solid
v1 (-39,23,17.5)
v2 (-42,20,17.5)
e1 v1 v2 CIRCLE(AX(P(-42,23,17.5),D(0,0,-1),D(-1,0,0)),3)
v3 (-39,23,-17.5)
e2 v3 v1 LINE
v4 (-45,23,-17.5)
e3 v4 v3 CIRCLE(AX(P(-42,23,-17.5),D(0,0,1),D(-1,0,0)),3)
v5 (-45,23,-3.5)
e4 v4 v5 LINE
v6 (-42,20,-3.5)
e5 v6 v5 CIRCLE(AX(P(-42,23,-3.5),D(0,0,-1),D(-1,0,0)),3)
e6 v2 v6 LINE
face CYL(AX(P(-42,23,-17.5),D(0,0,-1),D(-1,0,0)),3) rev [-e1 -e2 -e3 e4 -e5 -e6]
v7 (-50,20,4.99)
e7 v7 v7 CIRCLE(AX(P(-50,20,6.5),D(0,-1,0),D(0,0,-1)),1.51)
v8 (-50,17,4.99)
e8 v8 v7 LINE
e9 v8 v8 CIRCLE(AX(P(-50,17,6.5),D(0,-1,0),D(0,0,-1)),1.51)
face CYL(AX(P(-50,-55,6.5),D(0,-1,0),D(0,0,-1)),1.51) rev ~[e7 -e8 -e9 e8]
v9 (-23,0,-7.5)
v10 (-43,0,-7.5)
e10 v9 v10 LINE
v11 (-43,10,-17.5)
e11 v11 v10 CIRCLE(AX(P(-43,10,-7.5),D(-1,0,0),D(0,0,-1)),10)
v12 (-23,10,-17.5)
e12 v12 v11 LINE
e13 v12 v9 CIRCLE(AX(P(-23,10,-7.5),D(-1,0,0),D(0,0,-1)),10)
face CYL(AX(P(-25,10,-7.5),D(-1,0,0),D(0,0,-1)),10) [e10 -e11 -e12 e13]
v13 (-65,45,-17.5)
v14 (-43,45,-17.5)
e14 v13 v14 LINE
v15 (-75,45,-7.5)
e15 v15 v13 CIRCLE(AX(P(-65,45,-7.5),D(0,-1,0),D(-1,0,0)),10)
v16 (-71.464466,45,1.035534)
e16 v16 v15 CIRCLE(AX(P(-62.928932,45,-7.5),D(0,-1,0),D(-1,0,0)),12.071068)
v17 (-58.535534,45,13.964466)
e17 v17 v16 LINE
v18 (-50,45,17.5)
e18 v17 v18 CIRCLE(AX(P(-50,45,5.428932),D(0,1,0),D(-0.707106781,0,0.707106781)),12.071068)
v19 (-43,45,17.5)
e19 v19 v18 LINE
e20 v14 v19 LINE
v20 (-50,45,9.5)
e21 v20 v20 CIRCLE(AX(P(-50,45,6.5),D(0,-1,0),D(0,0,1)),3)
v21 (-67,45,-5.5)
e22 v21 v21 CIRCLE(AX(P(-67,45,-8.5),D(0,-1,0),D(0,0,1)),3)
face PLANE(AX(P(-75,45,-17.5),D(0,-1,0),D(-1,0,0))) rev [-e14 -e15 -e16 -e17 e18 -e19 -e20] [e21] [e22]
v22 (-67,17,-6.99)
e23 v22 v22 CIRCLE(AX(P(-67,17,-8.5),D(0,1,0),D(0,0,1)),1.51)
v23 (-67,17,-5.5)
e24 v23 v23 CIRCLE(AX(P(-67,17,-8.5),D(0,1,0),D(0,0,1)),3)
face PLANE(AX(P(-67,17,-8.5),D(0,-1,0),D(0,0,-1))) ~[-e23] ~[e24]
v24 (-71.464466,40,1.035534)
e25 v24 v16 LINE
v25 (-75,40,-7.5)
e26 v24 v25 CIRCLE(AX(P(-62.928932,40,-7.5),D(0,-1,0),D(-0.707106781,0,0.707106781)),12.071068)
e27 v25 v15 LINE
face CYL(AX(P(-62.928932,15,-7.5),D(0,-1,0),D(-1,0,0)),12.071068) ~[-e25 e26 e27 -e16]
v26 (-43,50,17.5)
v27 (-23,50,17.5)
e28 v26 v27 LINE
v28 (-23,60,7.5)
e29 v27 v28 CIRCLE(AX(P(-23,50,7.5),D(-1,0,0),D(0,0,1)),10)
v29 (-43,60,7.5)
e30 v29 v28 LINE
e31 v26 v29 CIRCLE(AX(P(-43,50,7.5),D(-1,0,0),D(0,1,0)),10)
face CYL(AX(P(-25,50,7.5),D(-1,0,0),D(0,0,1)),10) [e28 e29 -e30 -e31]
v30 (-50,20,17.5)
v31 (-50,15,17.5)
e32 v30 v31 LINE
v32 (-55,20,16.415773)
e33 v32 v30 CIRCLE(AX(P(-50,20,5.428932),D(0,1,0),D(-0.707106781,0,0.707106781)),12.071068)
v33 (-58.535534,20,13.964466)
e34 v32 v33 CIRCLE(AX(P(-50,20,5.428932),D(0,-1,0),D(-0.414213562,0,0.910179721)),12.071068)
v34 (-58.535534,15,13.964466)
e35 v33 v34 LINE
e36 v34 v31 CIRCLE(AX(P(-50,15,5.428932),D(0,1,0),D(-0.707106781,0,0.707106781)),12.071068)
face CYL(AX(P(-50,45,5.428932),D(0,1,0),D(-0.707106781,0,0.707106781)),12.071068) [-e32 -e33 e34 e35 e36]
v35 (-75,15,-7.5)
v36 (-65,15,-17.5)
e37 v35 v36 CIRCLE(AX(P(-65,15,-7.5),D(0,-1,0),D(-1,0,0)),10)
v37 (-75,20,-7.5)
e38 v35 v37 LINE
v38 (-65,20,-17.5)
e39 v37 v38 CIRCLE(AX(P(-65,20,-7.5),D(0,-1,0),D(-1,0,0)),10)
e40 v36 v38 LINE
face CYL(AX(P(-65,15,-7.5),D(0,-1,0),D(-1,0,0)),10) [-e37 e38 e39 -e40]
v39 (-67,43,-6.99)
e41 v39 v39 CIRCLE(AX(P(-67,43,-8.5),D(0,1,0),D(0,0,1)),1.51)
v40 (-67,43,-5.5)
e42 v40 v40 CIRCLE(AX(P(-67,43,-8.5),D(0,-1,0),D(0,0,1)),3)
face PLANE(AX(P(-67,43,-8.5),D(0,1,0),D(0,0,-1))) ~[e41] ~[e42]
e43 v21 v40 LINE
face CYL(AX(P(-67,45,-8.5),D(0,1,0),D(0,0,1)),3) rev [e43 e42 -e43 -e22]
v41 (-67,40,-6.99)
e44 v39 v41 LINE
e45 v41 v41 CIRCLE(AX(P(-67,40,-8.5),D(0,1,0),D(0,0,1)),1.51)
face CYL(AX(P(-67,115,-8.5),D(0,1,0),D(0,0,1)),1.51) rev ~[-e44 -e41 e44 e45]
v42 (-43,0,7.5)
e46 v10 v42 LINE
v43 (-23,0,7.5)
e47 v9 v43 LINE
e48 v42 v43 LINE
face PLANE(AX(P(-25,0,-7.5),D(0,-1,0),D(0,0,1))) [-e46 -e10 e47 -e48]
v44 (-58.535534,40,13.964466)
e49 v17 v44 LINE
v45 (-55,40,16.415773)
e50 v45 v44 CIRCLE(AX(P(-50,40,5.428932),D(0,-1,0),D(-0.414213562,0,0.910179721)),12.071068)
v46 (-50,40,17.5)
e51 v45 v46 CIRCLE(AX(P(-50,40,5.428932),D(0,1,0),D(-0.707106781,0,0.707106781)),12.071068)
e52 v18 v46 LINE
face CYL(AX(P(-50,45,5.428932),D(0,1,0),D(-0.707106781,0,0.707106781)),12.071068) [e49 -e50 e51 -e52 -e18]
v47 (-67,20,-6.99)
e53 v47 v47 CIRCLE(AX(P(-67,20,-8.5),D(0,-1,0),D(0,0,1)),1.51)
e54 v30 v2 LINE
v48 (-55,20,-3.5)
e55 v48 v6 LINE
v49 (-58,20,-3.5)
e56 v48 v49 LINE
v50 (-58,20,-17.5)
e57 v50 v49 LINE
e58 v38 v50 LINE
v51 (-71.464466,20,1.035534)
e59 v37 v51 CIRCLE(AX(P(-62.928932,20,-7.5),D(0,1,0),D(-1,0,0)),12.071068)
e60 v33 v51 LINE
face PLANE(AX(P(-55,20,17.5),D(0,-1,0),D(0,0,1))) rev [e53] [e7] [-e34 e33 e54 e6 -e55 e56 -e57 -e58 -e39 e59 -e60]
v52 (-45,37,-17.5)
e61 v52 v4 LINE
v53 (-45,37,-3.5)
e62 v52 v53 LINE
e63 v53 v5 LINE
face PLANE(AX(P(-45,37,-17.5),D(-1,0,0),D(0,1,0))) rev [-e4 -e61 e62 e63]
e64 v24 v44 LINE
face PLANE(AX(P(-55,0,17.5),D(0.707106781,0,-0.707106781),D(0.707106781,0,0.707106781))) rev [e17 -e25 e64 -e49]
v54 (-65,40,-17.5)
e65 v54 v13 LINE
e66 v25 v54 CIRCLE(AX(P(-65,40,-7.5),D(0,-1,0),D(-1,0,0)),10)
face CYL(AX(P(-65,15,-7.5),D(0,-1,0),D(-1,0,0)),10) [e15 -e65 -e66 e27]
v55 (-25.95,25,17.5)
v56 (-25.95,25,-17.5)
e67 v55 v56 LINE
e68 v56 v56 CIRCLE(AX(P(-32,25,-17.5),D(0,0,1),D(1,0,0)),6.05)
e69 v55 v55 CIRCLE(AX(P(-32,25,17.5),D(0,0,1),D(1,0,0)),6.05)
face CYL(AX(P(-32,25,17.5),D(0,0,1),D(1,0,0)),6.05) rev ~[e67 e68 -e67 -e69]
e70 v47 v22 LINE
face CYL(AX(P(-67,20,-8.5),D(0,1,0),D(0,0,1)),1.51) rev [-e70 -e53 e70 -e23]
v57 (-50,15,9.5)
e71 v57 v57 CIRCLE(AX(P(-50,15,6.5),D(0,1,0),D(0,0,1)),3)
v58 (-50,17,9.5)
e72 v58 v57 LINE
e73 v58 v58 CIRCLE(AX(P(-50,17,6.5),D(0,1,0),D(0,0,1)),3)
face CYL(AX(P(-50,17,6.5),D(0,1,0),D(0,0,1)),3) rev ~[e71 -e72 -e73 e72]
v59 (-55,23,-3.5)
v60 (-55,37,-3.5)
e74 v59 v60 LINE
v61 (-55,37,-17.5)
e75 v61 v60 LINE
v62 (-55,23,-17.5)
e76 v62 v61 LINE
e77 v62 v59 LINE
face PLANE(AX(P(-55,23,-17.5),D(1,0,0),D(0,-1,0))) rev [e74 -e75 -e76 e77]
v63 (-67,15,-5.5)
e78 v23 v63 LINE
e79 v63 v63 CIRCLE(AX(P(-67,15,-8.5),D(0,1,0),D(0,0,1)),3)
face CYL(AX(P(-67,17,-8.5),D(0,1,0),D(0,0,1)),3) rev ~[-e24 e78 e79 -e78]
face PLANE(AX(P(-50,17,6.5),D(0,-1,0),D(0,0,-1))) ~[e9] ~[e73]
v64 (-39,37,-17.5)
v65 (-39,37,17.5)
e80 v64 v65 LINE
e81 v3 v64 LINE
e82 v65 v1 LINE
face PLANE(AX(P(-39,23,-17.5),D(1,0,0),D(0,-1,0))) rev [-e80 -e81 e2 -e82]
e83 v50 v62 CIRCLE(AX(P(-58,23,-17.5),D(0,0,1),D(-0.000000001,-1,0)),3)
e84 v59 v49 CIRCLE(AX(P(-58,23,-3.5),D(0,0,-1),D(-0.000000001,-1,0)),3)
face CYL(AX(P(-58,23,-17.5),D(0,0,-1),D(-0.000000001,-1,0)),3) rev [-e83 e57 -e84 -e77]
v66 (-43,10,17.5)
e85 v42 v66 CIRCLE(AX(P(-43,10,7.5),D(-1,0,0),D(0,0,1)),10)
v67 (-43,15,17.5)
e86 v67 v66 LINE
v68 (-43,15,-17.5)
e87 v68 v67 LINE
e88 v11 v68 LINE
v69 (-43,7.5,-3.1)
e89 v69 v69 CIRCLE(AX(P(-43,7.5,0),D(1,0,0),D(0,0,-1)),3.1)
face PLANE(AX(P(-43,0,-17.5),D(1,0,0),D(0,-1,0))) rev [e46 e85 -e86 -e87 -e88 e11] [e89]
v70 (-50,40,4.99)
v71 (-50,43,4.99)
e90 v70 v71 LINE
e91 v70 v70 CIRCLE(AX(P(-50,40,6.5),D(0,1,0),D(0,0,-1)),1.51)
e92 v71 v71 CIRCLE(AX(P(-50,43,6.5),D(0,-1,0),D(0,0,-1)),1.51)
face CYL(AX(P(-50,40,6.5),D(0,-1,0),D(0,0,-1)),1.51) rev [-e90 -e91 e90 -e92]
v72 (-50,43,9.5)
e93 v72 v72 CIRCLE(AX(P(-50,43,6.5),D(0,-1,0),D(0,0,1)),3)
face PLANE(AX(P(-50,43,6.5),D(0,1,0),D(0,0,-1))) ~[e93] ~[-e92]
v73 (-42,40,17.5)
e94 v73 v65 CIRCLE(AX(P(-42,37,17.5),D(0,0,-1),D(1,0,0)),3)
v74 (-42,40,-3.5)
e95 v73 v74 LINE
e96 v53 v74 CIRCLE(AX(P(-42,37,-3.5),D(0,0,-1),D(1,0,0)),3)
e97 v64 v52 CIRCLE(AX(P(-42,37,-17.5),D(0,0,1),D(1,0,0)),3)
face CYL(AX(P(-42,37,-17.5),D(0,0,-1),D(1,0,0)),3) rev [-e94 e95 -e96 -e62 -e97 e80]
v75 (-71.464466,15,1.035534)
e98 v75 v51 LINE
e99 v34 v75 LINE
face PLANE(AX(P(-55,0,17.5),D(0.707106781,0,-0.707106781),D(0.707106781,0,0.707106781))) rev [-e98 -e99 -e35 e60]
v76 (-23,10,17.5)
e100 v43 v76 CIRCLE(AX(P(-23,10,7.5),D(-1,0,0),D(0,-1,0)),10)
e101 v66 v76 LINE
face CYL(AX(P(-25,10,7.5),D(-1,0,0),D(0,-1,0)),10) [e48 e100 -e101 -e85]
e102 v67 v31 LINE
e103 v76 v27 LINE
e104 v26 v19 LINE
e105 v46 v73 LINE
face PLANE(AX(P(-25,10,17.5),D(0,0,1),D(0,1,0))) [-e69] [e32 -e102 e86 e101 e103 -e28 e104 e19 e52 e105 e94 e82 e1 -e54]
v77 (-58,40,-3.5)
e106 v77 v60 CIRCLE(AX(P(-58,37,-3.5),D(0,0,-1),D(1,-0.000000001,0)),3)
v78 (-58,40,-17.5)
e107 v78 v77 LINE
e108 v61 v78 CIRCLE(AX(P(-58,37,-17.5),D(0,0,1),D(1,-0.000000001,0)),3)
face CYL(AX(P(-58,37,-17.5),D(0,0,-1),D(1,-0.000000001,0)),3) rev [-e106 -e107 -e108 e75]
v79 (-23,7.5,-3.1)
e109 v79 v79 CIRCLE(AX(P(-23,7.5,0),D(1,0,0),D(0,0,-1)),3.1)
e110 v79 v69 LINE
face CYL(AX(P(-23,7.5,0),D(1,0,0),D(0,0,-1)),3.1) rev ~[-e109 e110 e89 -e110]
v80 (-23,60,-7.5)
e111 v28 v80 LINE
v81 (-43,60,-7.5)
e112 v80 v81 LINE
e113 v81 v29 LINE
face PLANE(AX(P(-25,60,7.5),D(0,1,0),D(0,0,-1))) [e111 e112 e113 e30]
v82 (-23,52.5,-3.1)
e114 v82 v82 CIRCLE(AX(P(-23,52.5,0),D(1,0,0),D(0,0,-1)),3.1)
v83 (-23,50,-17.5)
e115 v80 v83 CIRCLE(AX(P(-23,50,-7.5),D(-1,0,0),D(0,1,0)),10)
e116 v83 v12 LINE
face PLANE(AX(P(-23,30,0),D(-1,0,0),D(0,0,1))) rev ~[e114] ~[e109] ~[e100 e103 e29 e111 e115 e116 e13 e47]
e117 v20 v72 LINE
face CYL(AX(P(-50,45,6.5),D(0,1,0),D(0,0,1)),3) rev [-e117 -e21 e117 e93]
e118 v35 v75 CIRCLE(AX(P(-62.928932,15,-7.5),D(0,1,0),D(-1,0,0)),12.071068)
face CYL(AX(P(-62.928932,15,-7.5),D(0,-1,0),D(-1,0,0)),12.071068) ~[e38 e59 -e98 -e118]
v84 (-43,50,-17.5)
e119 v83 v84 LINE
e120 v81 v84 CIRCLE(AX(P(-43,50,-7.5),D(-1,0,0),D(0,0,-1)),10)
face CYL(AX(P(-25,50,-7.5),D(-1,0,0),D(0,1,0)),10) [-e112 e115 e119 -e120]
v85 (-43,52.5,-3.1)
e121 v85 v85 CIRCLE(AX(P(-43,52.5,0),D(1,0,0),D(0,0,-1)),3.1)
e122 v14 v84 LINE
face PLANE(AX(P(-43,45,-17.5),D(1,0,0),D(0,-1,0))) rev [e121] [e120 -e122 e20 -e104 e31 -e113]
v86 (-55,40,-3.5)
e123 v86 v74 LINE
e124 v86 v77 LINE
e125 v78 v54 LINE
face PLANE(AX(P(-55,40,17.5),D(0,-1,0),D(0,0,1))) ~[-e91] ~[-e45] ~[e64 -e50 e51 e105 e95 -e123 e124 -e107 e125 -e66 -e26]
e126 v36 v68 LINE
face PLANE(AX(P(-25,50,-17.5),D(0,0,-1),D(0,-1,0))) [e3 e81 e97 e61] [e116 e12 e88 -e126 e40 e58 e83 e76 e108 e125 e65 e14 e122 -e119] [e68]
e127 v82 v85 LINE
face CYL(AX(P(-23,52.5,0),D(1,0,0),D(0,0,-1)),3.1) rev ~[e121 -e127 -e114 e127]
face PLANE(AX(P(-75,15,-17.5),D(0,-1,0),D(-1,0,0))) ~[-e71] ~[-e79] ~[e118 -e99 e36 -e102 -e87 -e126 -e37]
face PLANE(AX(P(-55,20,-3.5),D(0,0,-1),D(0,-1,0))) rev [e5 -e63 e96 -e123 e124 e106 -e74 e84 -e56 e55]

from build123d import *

# Parameters (mm, degrees)
EXTRUDE_1_DEPTH      = 60
SKETCH_2_W           = 32
SKETCH_2_H           = 15
CUT_EXTRUDE_1_DEPTH  = 60
SKETCH_3_R           = 3
CUT_EXTRUDE_2_DEPTH  = 30
CUT_EXTRUDE_3_DEPTH  = 30
CUT_EXTRUDE_4_DEPTH  = 50
SKETCH_6_R           = 5
CUT_EXTRUDE_5_DEPTH  = 50
CUT_EXTRUDE_6_DEPTH  = 50
SKETCH_8_W           = 21
SKETCH_8_H           = 14
SKETCH_8_H_2         = 3
CUT_EXTRUDE_7_DEPTH  = 13
SKETCH_9_W           = 21
SKETCH_9_H           = 3
CUT_EXTRUDE_8_DEPTH  = 13
CUT_EXTRUDE_10_DEPTH = 50
CUT_EXTRUDE_11_DEPTH = 50
SKETCH_15_R          = 1.51
CUT_EXTRUDE_14_DEPTH = 100
CUT_EXTRUDE_START    = -100
SKETCH_16_R          = 1.51
CUT_EXTRUDE_15_DEPTH = 100
SKETCH_17_R          = 1.51
CUT_EXTRUDE_16_DEPTH = 100
SKETCH_18_R          = 1.51
CUT_EXTRUDE_17_DEPTH = 100
SKETCH_21_R          = 3
CUT_EXTRUDE_18_DEPTH = 2
CUT_EXTRUDE_START_2  = -2
SKETCH_22_R          = 3
CUT_EXTRUDE_19_DEPTH = 2
SKETCH_23_R          = 5.05
CUT_EXTRUDE_20_DEPTH = 100
SKETCH_24_R          = 3.05
CUT_EXTRUDE_21_DEPTH = 100
SKETCH_25_R          = 3.05
CUT_EXTRUDE_22_DEPTH = 30
SKETCH_27_R          = 6.05
CUT_EXTRUDE_23_DEPTH = 50
SKETCH_28_R          = 3.05
CUT_EXTRUDE_24_DEPTH = 100
SKETCH_29_R          = 3.05
CUT_EXTRUDE_25_DEPTH = 100
SKETCH_30_R          = 6.05
CUT_EXTRUDE_26_DEPTH = 100
SKETCH_31_W          = 60.79957539
SKETCH_31_H          = 66.624791199
CUT_EXTRUDE_27_DEPTH = 100
SKETCH_32_W          = 19.915773323
SKETCH_32_H          = 3
CUT_EXTRUDE_28_DEPTH = 100
SKETCH_33_R          = 3.05
EXTRUDE_2_DEPTH      = 2
SKETCH_34_R          = 3.1
CUT_EXTRUDE_29_DEPTH = 30


with BuildPart() as part:
    # 草图1 → 凸台-拉伸1 (new body)
    with BuildSketch(Plane(origin=(0, 0, 0), x_dir=(1, 0, 0), z_dir=(0, 1, 0))):
        Polygon((-25, -17.5), (5, -17.5), (25, 2.5), (25, 17.5), (-25, 17.5), align=None)
    extrude_1 = extrude(amount=EXTRUDE_1_DEPTH)

    # 草图2 → 切除-拉伸1 (cut)
    with BuildSketch(Plane(origin=(0, 0, -17.5), x_dir=(-1, 0, 0), z_dir=(0, 0, -1))):
        with Locations((-9, 52.5)):
            Rectangle(SKETCH_2_W, SKETCH_2_H)
        with Locations((-9, 7.5)):
            Rectangle(SKETCH_2_W, SKETCH_2_H)
    cut_extrude_1 = extrude(amount=-CUT_EXTRUDE_1_DEPTH, mode=Mode.SUBTRACT)

    # 草图3 → 切除-拉伸2 (cut)
    with BuildSketch(Plane.ZY.offset(25)):
        with Locations((0, 52.5)):
            Circle(SKETCH_3_R)
        with Locations((0, 7.5)):
            Circle(SKETCH_3_R)
    extrude(amount=-CUT_EXTRUDE_2_DEPTH, mode=Mode.SUBTRACT)

    # 草图4 → 切除-拉伸3 (cut)
    with BuildSketch(Plane.ZY.offset(25)):
        with BuildLine():
            Line((-7.5, 60), (-17.5, 60))
            Line((-17.5, 60), (-17.5, 50))
            ThreePointArc((-17.5, 50), (-14.571067812, 57.071067812), (-7.5, 60))
        make_face()
        with BuildLine():
            Line((17.5, 60), (7.5, 60))
            ThreePointArc((7.5, 60), (14.571067812, 57.071067812), (17.5, 50))
            Line((17.5, 50), (17.5, 60))
        make_face()
        with BuildLine():
            Line((17.5, 0), (17.5, 10))
            ThreePointArc((17.5, 10), (14.571067812, 2.928932188), (7.5, 0))
            Line((7.5, 0), (17.5, 0))
        make_face()
        with BuildLine():
            ThreePointArc((-7.5, 0), (-14.571067812, 2.928932188), (-17.5, 10))
            Line((-17.5, 10), (-17.5, 0))
            Line((-17.5, 0), (-7.5, 0))
        make_face()
    extrude(amount=-CUT_EXTRUDE_3_DEPTH, mode=Mode.SUBTRACT)

    # 草图5 → 切除-拉伸4 (cut)
    with BuildSketch(Plane(origin=(0, 0, -17.5), x_dir=(-1, 0, 0), z_dir=(0, 0, -1))):
        with BuildLine():
            Line((5, 37), (5, 23))
            ThreePointArc((5, 23), (8, 20), (11, 23))
            Line((11, 23), (11, 37))
            ThreePointArc((11, 37), (8, 40), (5, 37))
        make_face()
    cut_extrude_4 = extrude(amount=-CUT_EXTRUDE_4_DEPTH, mode=Mode.SUBTRACT)

    # 草图6 → 切除-拉伸5 (cut)
    with BuildSketch(Plane(origin=(0, 0, -17.5), x_dir=(-1, 0, 0), z_dir=(0, 0, -1))):
        with Locations((18, 25)):
            Circle(SKETCH_6_R)
    extrude(amount=-CUT_EXTRUDE_5_DEPTH, mode=Mode.SUBTRACT)

    # 草图7 → 切除-拉伸6 (cut)
    with BuildSketch(Plane(origin=(0, 0, -17.5), x_dir=(-1, 0, 0), z_dir=(0, 0, -1))):
        with BuildLine():
            ThreePointArc((-5, 37), (-5.878679656, 39.121320344), (-8, 40))
            Line((-8, 40), (-25, 40))
            Line((-25, 40), (-25, 20))
            Line((-25, 20), (-8, 20))
            ThreePointArc((-8, 20), (-5.878679656, 20.878679656), (-5, 23))
            Line((-5, 23), (-5, 30))
            Line((-5, 30), (-5, 37))
        make_face()
    cut_extrude_6 = extrude(amount=-CUT_EXTRUDE_6_DEPTH, mode=Mode.SUBTRACT)

    # 草图8 → 切除-拉伸7 (cut)
    with BuildSketch(Plane(origin=(5, 0, 0), x_dir=(0, 0, -1), z_dir=(1, 0, 0))):
        with Locations((-7, 30)):
            Rectangle(SKETCH_8_W, SKETCH_8_H)
        with Locations((-7, 38.5)):
            Rectangle(SKETCH_8_W, SKETCH_8_H_2)
        with Locations((-7, 21.5)):
            Rectangle(SKETCH_8_W, SKETCH_8_H_2)
    cut_extrude_7 = extrude(amount=-CUT_EXTRUDE_7_DEPTH, mode=Mode.SUBTRACT)

    # 草图9 → 切除-拉伸8 (cut)
    with BuildSketch(Plane.ZY.offset(-5)):
        with Locations((7, 38.5)):
            Rectangle(SKETCH_9_W, SKETCH_9_H)
        with Locations((7, 21.5)):
            Rectangle(SKETCH_9_W, SKETCH_9_H)
    extrude(amount=-CUT_EXTRUDE_8_DEPTH, mode=Mode.SUBTRACT)

    # 草图10 → 切除-拉伸10 (cut)
    with BuildSketch(Plane(origin=(0, 15, 0), x_dir=(-1, 0, 0), z_dir=(0, -1, 0))):
        with BuildLine():
            Line((-25, 17.5), (-25, 7.5))
            ThreePointArc((-25, 7.5), (-22.071067812, 14.571067812), (-15, 17.5))
            Line((-15, 17.5), (-25, 17.5))
        make_face()
        with BuildLine():
            Line((-25, 2.5), (-25, 7.5))
            ThreePointArc((-25, 7.5), (-24.081144675, 2.880602337), (-21.464466094, -1.035533906))
            Line((-21.464466094, -1.035533906), (-25, 2.5))
        make_face()
    cut_extrude_10 = extrude(amount=-CUT_EXTRUDE_10_DEPTH, mode=Mode.SUBTRACT)

    # 草图11 → 切除-拉伸11 (cut)
    with BuildSketch(Plane(origin=(0, 45, 0), x_dir=(1, 0, 0), z_dir=(0, 1, 0))):
        with BuildLine():
            Line((5, -17.5), (8.535533906, -13.964466094))
            ThreePointArc((8.535533906, -13.964466094), (4.619397663, -16.581144675), (0, -17.5))
            Line((0, -17.5), (5, -17.5))
        make_face()
    cut_extrude_11 = extrude(amount=-CUT_EXTRUDE_11_DEPTH, mode=Mode.SUBTRACT)

    # 草图15 → 切除-拉伸14 (cut)
    with BuildSketch(Plane(origin=(0, 20, 0), x_dir=(1, 0, 0), z_dir=(0, 1, 0))):
        with Locations(Location((17, 8.5, 0), (0, 0, 270))):
            Circle(SKETCH_15_R)
    cut_extrude_14 = extrude(amount=-CUT_EXTRUDE_14_DEPTH, mode=Mode.SUBTRACT)

    # 草图16 → 切除-拉伸15 (cut)
    with BuildSketch(Plane.XZ.offset(-15).offset(CUT_EXTRUDE_START)):
        with Locations(Location((17, -8.5, 0), (0, 0, 90))):
            Circle(SKETCH_16_R)
    cut_extrude_15 = extrude(amount=CUT_EXTRUDE_15_DEPTH, mode=Mode.SUBTRACT)

    # 草图17 → 切除-拉伸16 (cut)
    with BuildSketch(Plane(origin=(0, 40, 0), x_dir=(-1, 0, 0), z_dir=(0, -1, 0))):
        with Locations(Location((0, -6.5, 0), (0, 0, 90))):
            Circle(SKETCH_17_R)
    cut_extrude_16 = extrude(amount=-CUT_EXTRUDE_16_DEPTH, mode=Mode.SUBTRACT)

    # 草图18 → 切除-拉伸17 (cut)
    with BuildSketch(Plane(origin=(0, 45, 0), x_dir=(1, 0, 0), z_dir=(0, 1, 0)).offset(CUT_EXTRUDE_START)):
        with Locations(Location((0, -6.5, 0), (0, 0, 90))):
            Circle(SKETCH_18_R)
    cut_extrude_17 = extrude(amount=CUT_EXTRUDE_17_DEPTH, mode=Mode.SUBTRACT)

    # 草图21 → 切除-拉伸18 (cut)
    with BuildSketch(Plane(origin=(0, 45, 0), x_dir=(1, 0, 0), z_dir=(0, 1, 0))):
        with Locations(Location((0, -6.5, 0), (0, 0, 270))):
            Circle(SKETCH_21_R)
        with Locations(Location((17, 8.5, 0), (0, 0, 270))):
            Circle(SKETCH_21_R)
    cut_extrude_18 = extrude(amount=-CUT_EXTRUDE_18_DEPTH, mode=Mode.SUBTRACT)

    # 草图22 → 切除-拉伸19 (cut)
    with BuildSketch(Plane(origin=(0, 15, 0), x_dir=(-1, 0, 0), z_dir=(0, -1, 0)).offset(CUT_EXTRUDE_START_2)):
        with Locations(Location((0, -6.5, 0), (0, 0, 270))):
            Circle(SKETCH_22_R)
        with Locations(Location((-17, 8.5, 0), (0, 0, 270))):
            Circle(SKETCH_22_R)
    cut_extrude_19 = extrude(amount=CUT_EXTRUDE_19_DEPTH, mode=Mode.SUBTRACT)

    # 草图23 → 切除-拉伸20 (cut)
    with BuildSketch(Plane(origin=(0, 0, -17.5), x_dir=(-1, 0, 0), z_dir=(0, 0, -1))):
        with Locations((18, 25)):
            Circle(SKETCH_23_R)
    extrude(amount=-CUT_EXTRUDE_20_DEPTH, mode=Mode.SUBTRACT)

    # 草图24 → 切除-拉伸21 (cut)
    with BuildSketch(Plane.ZY.offset(25)):
        with Locations((0, 52.5)):
            Circle(SKETCH_24_R)
    extrude(amount=-CUT_EXTRUDE_21_DEPTH, mode=Mode.SUBTRACT)

    # 草图25 → 切除-拉伸22 (cut)
    with BuildSketch(Plane.ZY.offset(25)):
        with Locations((0, 7.5)):
            Circle(SKETCH_25_R)
    extrude(amount=-CUT_EXTRUDE_22_DEPTH, mode=Mode.SUBTRACT)

    # 草图27 → 切除-拉伸23 (cut)
    with BuildSketch(Plane(origin=(0, 0, -17.5), x_dir=(-1, 0, 0), z_dir=(0, 0, -1))):
        with Locations((18, 25)):
            Circle(SKETCH_27_R)
    extrude(amount=-CUT_EXTRUDE_23_DEPTH, mode=Mode.SUBTRACT)

    # 镜向4: 凸台-拉伸1, 切除-拉伸1, 切除-拉伸4, 切除-拉伸6, 切除-拉伸7, 切除-拉伸10, 切除-拉伸11, 切除-拉伸14, 切除-拉伸15, 切除-拉伸16, 切除-拉伸17, 切除-拉伸18, 切除-拉伸19 across plane
    add(extrude_1.mirror(Plane(origin=(-25, 60, 17.5), x_dir=(0, 0, 1), z_dir=(-1, 0, 0))))
    add(cut_extrude_1.mirror(Plane(origin=(-25, 60, 17.5), x_dir=(0, 0, 1), z_dir=(-1, 0, 0))), mode=Mode.SUBTRACT)
    add(cut_extrude_4.mirror(Plane(origin=(-25, 60, 17.5), x_dir=(0, 0, 1), z_dir=(-1, 0, 0))), mode=Mode.SUBTRACT)
    add(cut_extrude_6.mirror(Plane(origin=(-25, 60, 17.5), x_dir=(0, 0, 1), z_dir=(-1, 0, 0))), mode=Mode.SUBTRACT)
    add(cut_extrude_7.mirror(Plane(origin=(-25, 60, 17.5), x_dir=(0, 0, 1), z_dir=(-1, 0, 0))), mode=Mode.SUBTRACT)
    add(cut_extrude_10.mirror(Plane(origin=(-25, 60, 17.5), x_dir=(0, 0, 1), z_dir=(-1, 0, 0))), mode=Mode.SUBTRACT)
    add(cut_extrude_11.mirror(Plane(origin=(-25, 60, 17.5), x_dir=(0, 0, 1), z_dir=(-1, 0, 0))), mode=Mode.SUBTRACT)
    add(cut_extrude_14.mirror(Plane(origin=(-25, 60, 17.5), x_dir=(0, 0, 1), z_dir=(-1, 0, 0))), mode=Mode.SUBTRACT)
    add(cut_extrude_15.mirror(Plane(origin=(-25, 60, 17.5), x_dir=(0, 0, 1), z_dir=(-1, 0, 0))), mode=Mode.SUBTRACT)
    add(cut_extrude_16.mirror(Plane(origin=(-25, 60, 17.5), x_dir=(0, 0, 1), z_dir=(-1, 0, 0))), mode=Mode.SUBTRACT)
    add(cut_extrude_17.mirror(Plane(origin=(-25, 60, 17.5), x_dir=(0, 0, 1), z_dir=(-1, 0, 0))), mode=Mode.SUBTRACT)
    add(cut_extrude_18.mirror(Plane(origin=(-25, 60, 17.5), x_dir=(0, 0, 1), z_dir=(-1, 0, 0))), mode=Mode.SUBTRACT)
    add(cut_extrude_19.mirror(Plane(origin=(-25, 60, 17.5), x_dir=(0, 0, 1), z_dir=(-1, 0, 0))), mode=Mode.SUBTRACT)

    # 草图28 → 切除-拉伸24 (cut)
    with BuildSketch(Plane(origin=(-7, 0, 0), x_dir=(0, 0, -1), z_dir=(1, 0, 0)).offset(CUT_EXTRUDE_START)):
        with Locations(Location((0, 7.5, 0), (0, 0, 180))):
            Circle(SKETCH_28_R)
        with BuildLine():
            Line((-17.5, 0), (-17.5, 10))
            ThreePointArc((-17.5, 10), (-14.571067812, 2.928932188), (-7.5, 0))
            Line((-7.5, 0), (-17.5, 0))
        make_face()
        with BuildLine():
            Line((7.5, 0), (17.5, 0))
            Line((17.5, 0), (17.5, 10))
            ThreePointArc((17.5, 10), (14.571067812, 2.928932188), (7.5, 0))
        make_face()
    extrude(amount=CUT_EXTRUDE_24_DEPTH, mode=Mode.SUBTRACT)

    # 草图29 → 切除-拉伸25 (cut)
    with BuildSketch(Plane(origin=(-7, 0, 0), x_dir=(0, 0, -1), z_dir=(1, 0, 0)).offset(CUT_EXTRUDE_START)):
        with Locations(Location((0, 52.5, 0), (0, 0, 180))):
            Circle(SKETCH_29_R)
        with BuildLine():
            Line((17.5, 60), (17.5, 50))
            ThreePointArc((17.5, 50), (14.571067812, 57.071067812), (7.5, 60))
            Line((7.5, 60), (17.5, 60))
        make_face()
        with BuildLine():
            Line((-17.5, 50), (-17.5, 60))
            Line((-17.5, 60), (-7.5, 60))
            ThreePointArc((-7.5, 60), (-14.571067812, 57.071067812), (-17.5, 50))
        make_face()
    extrude(amount=CUT_EXTRUDE_25_DEPTH, mode=Mode.SUBTRACT)

    # 草图30 → 切除-拉伸26 (cut)
    with BuildSketch(Plane.XY.offset(17.5)):
        with Locations((-32, 25)):
            Circle(SKETCH_30_R)
    extrude(amount=-CUT_EXTRUDE_26_DEPTH, mode=Mode.SUBTRACT)

    # 草图31 → 切除-拉伸27 (cut)
    with BuildSketch(Plane.XY.offset(17.5)):
        with Locations((5.399787695, 26.687604401)):
            Rectangle(SKETCH_31_W, SKETCH_31_H)
    extrude(amount=-CUT_EXTRUDE_27_DEPTH, mode=Mode.SUBTRACT)

    # 草图32 → 切除-拉伸28 (cut)
    with BuildSketch(Plane(origin=(-55, 0, 0), x_dir=(0, 0, -1), z_dir=(1, 0, 0))):
        with Locations((-6.457886661, 38.5)):
            Rectangle(SKETCH_32_W, SKETCH_32_H)
        with Locations((-6.457886661, 21.5)):
            Rectangle(SKETCH_32_W, SKETCH_32_H)
    extrude(amount=-CUT_EXTRUDE_28_DEPTH, mode=Mode.SUBTRACT)

    # 草图33 → 凸台-拉伸2 (add)
    with BuildSketch(Plane(origin=(-25, 0, 0), x_dir=(0, 0, -1), z_dir=(1, 0, 0))):
        with BuildLine():
            Line((-7.5, 60), (7.5, 60))
            ThreePointArc((7.5, 60), (14.571067812, 57.071067812), (17.5, 50))
            Line((17.5, 50), (17.5, 10))
            ThreePointArc((17.5, 10), (14.571067812, 2.928932188), (7.5, 0))
            Line((7.5, 0), (-7.5, 0))
            ThreePointArc((-7.5, 0), (-14.571067812, 2.928932188), (-17.5, 10))
            Line((-17.5, 10), (-17.5, 50))
            ThreePointArc((-17.5, 50), (-14.571067812, 57.071067812), (-7.5, 60))
        make_face()
        with Locations(Location((0, 7.5, 0), (0, 0, 180))):
            Circle(SKETCH_33_R, mode=Mode.SUBTRACT)
        with Locations(Location((0, 52.5, 0), (0, 0, 180))):
            Circle(SKETCH_33_R, mode=Mode.SUBTRACT)
    extrude(amount=EXTRUDE_2_DEPTH)

    # 草图34 → 切除-拉伸29 (cut)
    with BuildSketch(Plane(origin=(-23, 0, 0), x_dir=(0, 0, -1), z_dir=(1, 0, 0))):
        with Locations((0, 52.5)):
            Circle(SKETCH_34_R)
        with Locations((0, 7.5)):
            Circle(SKETCH_34_R)
    extrude(amount=-CUT_EXTRUDE_29_DEPTH, mode=Mode.SUBTRACT)


solid = part.part
